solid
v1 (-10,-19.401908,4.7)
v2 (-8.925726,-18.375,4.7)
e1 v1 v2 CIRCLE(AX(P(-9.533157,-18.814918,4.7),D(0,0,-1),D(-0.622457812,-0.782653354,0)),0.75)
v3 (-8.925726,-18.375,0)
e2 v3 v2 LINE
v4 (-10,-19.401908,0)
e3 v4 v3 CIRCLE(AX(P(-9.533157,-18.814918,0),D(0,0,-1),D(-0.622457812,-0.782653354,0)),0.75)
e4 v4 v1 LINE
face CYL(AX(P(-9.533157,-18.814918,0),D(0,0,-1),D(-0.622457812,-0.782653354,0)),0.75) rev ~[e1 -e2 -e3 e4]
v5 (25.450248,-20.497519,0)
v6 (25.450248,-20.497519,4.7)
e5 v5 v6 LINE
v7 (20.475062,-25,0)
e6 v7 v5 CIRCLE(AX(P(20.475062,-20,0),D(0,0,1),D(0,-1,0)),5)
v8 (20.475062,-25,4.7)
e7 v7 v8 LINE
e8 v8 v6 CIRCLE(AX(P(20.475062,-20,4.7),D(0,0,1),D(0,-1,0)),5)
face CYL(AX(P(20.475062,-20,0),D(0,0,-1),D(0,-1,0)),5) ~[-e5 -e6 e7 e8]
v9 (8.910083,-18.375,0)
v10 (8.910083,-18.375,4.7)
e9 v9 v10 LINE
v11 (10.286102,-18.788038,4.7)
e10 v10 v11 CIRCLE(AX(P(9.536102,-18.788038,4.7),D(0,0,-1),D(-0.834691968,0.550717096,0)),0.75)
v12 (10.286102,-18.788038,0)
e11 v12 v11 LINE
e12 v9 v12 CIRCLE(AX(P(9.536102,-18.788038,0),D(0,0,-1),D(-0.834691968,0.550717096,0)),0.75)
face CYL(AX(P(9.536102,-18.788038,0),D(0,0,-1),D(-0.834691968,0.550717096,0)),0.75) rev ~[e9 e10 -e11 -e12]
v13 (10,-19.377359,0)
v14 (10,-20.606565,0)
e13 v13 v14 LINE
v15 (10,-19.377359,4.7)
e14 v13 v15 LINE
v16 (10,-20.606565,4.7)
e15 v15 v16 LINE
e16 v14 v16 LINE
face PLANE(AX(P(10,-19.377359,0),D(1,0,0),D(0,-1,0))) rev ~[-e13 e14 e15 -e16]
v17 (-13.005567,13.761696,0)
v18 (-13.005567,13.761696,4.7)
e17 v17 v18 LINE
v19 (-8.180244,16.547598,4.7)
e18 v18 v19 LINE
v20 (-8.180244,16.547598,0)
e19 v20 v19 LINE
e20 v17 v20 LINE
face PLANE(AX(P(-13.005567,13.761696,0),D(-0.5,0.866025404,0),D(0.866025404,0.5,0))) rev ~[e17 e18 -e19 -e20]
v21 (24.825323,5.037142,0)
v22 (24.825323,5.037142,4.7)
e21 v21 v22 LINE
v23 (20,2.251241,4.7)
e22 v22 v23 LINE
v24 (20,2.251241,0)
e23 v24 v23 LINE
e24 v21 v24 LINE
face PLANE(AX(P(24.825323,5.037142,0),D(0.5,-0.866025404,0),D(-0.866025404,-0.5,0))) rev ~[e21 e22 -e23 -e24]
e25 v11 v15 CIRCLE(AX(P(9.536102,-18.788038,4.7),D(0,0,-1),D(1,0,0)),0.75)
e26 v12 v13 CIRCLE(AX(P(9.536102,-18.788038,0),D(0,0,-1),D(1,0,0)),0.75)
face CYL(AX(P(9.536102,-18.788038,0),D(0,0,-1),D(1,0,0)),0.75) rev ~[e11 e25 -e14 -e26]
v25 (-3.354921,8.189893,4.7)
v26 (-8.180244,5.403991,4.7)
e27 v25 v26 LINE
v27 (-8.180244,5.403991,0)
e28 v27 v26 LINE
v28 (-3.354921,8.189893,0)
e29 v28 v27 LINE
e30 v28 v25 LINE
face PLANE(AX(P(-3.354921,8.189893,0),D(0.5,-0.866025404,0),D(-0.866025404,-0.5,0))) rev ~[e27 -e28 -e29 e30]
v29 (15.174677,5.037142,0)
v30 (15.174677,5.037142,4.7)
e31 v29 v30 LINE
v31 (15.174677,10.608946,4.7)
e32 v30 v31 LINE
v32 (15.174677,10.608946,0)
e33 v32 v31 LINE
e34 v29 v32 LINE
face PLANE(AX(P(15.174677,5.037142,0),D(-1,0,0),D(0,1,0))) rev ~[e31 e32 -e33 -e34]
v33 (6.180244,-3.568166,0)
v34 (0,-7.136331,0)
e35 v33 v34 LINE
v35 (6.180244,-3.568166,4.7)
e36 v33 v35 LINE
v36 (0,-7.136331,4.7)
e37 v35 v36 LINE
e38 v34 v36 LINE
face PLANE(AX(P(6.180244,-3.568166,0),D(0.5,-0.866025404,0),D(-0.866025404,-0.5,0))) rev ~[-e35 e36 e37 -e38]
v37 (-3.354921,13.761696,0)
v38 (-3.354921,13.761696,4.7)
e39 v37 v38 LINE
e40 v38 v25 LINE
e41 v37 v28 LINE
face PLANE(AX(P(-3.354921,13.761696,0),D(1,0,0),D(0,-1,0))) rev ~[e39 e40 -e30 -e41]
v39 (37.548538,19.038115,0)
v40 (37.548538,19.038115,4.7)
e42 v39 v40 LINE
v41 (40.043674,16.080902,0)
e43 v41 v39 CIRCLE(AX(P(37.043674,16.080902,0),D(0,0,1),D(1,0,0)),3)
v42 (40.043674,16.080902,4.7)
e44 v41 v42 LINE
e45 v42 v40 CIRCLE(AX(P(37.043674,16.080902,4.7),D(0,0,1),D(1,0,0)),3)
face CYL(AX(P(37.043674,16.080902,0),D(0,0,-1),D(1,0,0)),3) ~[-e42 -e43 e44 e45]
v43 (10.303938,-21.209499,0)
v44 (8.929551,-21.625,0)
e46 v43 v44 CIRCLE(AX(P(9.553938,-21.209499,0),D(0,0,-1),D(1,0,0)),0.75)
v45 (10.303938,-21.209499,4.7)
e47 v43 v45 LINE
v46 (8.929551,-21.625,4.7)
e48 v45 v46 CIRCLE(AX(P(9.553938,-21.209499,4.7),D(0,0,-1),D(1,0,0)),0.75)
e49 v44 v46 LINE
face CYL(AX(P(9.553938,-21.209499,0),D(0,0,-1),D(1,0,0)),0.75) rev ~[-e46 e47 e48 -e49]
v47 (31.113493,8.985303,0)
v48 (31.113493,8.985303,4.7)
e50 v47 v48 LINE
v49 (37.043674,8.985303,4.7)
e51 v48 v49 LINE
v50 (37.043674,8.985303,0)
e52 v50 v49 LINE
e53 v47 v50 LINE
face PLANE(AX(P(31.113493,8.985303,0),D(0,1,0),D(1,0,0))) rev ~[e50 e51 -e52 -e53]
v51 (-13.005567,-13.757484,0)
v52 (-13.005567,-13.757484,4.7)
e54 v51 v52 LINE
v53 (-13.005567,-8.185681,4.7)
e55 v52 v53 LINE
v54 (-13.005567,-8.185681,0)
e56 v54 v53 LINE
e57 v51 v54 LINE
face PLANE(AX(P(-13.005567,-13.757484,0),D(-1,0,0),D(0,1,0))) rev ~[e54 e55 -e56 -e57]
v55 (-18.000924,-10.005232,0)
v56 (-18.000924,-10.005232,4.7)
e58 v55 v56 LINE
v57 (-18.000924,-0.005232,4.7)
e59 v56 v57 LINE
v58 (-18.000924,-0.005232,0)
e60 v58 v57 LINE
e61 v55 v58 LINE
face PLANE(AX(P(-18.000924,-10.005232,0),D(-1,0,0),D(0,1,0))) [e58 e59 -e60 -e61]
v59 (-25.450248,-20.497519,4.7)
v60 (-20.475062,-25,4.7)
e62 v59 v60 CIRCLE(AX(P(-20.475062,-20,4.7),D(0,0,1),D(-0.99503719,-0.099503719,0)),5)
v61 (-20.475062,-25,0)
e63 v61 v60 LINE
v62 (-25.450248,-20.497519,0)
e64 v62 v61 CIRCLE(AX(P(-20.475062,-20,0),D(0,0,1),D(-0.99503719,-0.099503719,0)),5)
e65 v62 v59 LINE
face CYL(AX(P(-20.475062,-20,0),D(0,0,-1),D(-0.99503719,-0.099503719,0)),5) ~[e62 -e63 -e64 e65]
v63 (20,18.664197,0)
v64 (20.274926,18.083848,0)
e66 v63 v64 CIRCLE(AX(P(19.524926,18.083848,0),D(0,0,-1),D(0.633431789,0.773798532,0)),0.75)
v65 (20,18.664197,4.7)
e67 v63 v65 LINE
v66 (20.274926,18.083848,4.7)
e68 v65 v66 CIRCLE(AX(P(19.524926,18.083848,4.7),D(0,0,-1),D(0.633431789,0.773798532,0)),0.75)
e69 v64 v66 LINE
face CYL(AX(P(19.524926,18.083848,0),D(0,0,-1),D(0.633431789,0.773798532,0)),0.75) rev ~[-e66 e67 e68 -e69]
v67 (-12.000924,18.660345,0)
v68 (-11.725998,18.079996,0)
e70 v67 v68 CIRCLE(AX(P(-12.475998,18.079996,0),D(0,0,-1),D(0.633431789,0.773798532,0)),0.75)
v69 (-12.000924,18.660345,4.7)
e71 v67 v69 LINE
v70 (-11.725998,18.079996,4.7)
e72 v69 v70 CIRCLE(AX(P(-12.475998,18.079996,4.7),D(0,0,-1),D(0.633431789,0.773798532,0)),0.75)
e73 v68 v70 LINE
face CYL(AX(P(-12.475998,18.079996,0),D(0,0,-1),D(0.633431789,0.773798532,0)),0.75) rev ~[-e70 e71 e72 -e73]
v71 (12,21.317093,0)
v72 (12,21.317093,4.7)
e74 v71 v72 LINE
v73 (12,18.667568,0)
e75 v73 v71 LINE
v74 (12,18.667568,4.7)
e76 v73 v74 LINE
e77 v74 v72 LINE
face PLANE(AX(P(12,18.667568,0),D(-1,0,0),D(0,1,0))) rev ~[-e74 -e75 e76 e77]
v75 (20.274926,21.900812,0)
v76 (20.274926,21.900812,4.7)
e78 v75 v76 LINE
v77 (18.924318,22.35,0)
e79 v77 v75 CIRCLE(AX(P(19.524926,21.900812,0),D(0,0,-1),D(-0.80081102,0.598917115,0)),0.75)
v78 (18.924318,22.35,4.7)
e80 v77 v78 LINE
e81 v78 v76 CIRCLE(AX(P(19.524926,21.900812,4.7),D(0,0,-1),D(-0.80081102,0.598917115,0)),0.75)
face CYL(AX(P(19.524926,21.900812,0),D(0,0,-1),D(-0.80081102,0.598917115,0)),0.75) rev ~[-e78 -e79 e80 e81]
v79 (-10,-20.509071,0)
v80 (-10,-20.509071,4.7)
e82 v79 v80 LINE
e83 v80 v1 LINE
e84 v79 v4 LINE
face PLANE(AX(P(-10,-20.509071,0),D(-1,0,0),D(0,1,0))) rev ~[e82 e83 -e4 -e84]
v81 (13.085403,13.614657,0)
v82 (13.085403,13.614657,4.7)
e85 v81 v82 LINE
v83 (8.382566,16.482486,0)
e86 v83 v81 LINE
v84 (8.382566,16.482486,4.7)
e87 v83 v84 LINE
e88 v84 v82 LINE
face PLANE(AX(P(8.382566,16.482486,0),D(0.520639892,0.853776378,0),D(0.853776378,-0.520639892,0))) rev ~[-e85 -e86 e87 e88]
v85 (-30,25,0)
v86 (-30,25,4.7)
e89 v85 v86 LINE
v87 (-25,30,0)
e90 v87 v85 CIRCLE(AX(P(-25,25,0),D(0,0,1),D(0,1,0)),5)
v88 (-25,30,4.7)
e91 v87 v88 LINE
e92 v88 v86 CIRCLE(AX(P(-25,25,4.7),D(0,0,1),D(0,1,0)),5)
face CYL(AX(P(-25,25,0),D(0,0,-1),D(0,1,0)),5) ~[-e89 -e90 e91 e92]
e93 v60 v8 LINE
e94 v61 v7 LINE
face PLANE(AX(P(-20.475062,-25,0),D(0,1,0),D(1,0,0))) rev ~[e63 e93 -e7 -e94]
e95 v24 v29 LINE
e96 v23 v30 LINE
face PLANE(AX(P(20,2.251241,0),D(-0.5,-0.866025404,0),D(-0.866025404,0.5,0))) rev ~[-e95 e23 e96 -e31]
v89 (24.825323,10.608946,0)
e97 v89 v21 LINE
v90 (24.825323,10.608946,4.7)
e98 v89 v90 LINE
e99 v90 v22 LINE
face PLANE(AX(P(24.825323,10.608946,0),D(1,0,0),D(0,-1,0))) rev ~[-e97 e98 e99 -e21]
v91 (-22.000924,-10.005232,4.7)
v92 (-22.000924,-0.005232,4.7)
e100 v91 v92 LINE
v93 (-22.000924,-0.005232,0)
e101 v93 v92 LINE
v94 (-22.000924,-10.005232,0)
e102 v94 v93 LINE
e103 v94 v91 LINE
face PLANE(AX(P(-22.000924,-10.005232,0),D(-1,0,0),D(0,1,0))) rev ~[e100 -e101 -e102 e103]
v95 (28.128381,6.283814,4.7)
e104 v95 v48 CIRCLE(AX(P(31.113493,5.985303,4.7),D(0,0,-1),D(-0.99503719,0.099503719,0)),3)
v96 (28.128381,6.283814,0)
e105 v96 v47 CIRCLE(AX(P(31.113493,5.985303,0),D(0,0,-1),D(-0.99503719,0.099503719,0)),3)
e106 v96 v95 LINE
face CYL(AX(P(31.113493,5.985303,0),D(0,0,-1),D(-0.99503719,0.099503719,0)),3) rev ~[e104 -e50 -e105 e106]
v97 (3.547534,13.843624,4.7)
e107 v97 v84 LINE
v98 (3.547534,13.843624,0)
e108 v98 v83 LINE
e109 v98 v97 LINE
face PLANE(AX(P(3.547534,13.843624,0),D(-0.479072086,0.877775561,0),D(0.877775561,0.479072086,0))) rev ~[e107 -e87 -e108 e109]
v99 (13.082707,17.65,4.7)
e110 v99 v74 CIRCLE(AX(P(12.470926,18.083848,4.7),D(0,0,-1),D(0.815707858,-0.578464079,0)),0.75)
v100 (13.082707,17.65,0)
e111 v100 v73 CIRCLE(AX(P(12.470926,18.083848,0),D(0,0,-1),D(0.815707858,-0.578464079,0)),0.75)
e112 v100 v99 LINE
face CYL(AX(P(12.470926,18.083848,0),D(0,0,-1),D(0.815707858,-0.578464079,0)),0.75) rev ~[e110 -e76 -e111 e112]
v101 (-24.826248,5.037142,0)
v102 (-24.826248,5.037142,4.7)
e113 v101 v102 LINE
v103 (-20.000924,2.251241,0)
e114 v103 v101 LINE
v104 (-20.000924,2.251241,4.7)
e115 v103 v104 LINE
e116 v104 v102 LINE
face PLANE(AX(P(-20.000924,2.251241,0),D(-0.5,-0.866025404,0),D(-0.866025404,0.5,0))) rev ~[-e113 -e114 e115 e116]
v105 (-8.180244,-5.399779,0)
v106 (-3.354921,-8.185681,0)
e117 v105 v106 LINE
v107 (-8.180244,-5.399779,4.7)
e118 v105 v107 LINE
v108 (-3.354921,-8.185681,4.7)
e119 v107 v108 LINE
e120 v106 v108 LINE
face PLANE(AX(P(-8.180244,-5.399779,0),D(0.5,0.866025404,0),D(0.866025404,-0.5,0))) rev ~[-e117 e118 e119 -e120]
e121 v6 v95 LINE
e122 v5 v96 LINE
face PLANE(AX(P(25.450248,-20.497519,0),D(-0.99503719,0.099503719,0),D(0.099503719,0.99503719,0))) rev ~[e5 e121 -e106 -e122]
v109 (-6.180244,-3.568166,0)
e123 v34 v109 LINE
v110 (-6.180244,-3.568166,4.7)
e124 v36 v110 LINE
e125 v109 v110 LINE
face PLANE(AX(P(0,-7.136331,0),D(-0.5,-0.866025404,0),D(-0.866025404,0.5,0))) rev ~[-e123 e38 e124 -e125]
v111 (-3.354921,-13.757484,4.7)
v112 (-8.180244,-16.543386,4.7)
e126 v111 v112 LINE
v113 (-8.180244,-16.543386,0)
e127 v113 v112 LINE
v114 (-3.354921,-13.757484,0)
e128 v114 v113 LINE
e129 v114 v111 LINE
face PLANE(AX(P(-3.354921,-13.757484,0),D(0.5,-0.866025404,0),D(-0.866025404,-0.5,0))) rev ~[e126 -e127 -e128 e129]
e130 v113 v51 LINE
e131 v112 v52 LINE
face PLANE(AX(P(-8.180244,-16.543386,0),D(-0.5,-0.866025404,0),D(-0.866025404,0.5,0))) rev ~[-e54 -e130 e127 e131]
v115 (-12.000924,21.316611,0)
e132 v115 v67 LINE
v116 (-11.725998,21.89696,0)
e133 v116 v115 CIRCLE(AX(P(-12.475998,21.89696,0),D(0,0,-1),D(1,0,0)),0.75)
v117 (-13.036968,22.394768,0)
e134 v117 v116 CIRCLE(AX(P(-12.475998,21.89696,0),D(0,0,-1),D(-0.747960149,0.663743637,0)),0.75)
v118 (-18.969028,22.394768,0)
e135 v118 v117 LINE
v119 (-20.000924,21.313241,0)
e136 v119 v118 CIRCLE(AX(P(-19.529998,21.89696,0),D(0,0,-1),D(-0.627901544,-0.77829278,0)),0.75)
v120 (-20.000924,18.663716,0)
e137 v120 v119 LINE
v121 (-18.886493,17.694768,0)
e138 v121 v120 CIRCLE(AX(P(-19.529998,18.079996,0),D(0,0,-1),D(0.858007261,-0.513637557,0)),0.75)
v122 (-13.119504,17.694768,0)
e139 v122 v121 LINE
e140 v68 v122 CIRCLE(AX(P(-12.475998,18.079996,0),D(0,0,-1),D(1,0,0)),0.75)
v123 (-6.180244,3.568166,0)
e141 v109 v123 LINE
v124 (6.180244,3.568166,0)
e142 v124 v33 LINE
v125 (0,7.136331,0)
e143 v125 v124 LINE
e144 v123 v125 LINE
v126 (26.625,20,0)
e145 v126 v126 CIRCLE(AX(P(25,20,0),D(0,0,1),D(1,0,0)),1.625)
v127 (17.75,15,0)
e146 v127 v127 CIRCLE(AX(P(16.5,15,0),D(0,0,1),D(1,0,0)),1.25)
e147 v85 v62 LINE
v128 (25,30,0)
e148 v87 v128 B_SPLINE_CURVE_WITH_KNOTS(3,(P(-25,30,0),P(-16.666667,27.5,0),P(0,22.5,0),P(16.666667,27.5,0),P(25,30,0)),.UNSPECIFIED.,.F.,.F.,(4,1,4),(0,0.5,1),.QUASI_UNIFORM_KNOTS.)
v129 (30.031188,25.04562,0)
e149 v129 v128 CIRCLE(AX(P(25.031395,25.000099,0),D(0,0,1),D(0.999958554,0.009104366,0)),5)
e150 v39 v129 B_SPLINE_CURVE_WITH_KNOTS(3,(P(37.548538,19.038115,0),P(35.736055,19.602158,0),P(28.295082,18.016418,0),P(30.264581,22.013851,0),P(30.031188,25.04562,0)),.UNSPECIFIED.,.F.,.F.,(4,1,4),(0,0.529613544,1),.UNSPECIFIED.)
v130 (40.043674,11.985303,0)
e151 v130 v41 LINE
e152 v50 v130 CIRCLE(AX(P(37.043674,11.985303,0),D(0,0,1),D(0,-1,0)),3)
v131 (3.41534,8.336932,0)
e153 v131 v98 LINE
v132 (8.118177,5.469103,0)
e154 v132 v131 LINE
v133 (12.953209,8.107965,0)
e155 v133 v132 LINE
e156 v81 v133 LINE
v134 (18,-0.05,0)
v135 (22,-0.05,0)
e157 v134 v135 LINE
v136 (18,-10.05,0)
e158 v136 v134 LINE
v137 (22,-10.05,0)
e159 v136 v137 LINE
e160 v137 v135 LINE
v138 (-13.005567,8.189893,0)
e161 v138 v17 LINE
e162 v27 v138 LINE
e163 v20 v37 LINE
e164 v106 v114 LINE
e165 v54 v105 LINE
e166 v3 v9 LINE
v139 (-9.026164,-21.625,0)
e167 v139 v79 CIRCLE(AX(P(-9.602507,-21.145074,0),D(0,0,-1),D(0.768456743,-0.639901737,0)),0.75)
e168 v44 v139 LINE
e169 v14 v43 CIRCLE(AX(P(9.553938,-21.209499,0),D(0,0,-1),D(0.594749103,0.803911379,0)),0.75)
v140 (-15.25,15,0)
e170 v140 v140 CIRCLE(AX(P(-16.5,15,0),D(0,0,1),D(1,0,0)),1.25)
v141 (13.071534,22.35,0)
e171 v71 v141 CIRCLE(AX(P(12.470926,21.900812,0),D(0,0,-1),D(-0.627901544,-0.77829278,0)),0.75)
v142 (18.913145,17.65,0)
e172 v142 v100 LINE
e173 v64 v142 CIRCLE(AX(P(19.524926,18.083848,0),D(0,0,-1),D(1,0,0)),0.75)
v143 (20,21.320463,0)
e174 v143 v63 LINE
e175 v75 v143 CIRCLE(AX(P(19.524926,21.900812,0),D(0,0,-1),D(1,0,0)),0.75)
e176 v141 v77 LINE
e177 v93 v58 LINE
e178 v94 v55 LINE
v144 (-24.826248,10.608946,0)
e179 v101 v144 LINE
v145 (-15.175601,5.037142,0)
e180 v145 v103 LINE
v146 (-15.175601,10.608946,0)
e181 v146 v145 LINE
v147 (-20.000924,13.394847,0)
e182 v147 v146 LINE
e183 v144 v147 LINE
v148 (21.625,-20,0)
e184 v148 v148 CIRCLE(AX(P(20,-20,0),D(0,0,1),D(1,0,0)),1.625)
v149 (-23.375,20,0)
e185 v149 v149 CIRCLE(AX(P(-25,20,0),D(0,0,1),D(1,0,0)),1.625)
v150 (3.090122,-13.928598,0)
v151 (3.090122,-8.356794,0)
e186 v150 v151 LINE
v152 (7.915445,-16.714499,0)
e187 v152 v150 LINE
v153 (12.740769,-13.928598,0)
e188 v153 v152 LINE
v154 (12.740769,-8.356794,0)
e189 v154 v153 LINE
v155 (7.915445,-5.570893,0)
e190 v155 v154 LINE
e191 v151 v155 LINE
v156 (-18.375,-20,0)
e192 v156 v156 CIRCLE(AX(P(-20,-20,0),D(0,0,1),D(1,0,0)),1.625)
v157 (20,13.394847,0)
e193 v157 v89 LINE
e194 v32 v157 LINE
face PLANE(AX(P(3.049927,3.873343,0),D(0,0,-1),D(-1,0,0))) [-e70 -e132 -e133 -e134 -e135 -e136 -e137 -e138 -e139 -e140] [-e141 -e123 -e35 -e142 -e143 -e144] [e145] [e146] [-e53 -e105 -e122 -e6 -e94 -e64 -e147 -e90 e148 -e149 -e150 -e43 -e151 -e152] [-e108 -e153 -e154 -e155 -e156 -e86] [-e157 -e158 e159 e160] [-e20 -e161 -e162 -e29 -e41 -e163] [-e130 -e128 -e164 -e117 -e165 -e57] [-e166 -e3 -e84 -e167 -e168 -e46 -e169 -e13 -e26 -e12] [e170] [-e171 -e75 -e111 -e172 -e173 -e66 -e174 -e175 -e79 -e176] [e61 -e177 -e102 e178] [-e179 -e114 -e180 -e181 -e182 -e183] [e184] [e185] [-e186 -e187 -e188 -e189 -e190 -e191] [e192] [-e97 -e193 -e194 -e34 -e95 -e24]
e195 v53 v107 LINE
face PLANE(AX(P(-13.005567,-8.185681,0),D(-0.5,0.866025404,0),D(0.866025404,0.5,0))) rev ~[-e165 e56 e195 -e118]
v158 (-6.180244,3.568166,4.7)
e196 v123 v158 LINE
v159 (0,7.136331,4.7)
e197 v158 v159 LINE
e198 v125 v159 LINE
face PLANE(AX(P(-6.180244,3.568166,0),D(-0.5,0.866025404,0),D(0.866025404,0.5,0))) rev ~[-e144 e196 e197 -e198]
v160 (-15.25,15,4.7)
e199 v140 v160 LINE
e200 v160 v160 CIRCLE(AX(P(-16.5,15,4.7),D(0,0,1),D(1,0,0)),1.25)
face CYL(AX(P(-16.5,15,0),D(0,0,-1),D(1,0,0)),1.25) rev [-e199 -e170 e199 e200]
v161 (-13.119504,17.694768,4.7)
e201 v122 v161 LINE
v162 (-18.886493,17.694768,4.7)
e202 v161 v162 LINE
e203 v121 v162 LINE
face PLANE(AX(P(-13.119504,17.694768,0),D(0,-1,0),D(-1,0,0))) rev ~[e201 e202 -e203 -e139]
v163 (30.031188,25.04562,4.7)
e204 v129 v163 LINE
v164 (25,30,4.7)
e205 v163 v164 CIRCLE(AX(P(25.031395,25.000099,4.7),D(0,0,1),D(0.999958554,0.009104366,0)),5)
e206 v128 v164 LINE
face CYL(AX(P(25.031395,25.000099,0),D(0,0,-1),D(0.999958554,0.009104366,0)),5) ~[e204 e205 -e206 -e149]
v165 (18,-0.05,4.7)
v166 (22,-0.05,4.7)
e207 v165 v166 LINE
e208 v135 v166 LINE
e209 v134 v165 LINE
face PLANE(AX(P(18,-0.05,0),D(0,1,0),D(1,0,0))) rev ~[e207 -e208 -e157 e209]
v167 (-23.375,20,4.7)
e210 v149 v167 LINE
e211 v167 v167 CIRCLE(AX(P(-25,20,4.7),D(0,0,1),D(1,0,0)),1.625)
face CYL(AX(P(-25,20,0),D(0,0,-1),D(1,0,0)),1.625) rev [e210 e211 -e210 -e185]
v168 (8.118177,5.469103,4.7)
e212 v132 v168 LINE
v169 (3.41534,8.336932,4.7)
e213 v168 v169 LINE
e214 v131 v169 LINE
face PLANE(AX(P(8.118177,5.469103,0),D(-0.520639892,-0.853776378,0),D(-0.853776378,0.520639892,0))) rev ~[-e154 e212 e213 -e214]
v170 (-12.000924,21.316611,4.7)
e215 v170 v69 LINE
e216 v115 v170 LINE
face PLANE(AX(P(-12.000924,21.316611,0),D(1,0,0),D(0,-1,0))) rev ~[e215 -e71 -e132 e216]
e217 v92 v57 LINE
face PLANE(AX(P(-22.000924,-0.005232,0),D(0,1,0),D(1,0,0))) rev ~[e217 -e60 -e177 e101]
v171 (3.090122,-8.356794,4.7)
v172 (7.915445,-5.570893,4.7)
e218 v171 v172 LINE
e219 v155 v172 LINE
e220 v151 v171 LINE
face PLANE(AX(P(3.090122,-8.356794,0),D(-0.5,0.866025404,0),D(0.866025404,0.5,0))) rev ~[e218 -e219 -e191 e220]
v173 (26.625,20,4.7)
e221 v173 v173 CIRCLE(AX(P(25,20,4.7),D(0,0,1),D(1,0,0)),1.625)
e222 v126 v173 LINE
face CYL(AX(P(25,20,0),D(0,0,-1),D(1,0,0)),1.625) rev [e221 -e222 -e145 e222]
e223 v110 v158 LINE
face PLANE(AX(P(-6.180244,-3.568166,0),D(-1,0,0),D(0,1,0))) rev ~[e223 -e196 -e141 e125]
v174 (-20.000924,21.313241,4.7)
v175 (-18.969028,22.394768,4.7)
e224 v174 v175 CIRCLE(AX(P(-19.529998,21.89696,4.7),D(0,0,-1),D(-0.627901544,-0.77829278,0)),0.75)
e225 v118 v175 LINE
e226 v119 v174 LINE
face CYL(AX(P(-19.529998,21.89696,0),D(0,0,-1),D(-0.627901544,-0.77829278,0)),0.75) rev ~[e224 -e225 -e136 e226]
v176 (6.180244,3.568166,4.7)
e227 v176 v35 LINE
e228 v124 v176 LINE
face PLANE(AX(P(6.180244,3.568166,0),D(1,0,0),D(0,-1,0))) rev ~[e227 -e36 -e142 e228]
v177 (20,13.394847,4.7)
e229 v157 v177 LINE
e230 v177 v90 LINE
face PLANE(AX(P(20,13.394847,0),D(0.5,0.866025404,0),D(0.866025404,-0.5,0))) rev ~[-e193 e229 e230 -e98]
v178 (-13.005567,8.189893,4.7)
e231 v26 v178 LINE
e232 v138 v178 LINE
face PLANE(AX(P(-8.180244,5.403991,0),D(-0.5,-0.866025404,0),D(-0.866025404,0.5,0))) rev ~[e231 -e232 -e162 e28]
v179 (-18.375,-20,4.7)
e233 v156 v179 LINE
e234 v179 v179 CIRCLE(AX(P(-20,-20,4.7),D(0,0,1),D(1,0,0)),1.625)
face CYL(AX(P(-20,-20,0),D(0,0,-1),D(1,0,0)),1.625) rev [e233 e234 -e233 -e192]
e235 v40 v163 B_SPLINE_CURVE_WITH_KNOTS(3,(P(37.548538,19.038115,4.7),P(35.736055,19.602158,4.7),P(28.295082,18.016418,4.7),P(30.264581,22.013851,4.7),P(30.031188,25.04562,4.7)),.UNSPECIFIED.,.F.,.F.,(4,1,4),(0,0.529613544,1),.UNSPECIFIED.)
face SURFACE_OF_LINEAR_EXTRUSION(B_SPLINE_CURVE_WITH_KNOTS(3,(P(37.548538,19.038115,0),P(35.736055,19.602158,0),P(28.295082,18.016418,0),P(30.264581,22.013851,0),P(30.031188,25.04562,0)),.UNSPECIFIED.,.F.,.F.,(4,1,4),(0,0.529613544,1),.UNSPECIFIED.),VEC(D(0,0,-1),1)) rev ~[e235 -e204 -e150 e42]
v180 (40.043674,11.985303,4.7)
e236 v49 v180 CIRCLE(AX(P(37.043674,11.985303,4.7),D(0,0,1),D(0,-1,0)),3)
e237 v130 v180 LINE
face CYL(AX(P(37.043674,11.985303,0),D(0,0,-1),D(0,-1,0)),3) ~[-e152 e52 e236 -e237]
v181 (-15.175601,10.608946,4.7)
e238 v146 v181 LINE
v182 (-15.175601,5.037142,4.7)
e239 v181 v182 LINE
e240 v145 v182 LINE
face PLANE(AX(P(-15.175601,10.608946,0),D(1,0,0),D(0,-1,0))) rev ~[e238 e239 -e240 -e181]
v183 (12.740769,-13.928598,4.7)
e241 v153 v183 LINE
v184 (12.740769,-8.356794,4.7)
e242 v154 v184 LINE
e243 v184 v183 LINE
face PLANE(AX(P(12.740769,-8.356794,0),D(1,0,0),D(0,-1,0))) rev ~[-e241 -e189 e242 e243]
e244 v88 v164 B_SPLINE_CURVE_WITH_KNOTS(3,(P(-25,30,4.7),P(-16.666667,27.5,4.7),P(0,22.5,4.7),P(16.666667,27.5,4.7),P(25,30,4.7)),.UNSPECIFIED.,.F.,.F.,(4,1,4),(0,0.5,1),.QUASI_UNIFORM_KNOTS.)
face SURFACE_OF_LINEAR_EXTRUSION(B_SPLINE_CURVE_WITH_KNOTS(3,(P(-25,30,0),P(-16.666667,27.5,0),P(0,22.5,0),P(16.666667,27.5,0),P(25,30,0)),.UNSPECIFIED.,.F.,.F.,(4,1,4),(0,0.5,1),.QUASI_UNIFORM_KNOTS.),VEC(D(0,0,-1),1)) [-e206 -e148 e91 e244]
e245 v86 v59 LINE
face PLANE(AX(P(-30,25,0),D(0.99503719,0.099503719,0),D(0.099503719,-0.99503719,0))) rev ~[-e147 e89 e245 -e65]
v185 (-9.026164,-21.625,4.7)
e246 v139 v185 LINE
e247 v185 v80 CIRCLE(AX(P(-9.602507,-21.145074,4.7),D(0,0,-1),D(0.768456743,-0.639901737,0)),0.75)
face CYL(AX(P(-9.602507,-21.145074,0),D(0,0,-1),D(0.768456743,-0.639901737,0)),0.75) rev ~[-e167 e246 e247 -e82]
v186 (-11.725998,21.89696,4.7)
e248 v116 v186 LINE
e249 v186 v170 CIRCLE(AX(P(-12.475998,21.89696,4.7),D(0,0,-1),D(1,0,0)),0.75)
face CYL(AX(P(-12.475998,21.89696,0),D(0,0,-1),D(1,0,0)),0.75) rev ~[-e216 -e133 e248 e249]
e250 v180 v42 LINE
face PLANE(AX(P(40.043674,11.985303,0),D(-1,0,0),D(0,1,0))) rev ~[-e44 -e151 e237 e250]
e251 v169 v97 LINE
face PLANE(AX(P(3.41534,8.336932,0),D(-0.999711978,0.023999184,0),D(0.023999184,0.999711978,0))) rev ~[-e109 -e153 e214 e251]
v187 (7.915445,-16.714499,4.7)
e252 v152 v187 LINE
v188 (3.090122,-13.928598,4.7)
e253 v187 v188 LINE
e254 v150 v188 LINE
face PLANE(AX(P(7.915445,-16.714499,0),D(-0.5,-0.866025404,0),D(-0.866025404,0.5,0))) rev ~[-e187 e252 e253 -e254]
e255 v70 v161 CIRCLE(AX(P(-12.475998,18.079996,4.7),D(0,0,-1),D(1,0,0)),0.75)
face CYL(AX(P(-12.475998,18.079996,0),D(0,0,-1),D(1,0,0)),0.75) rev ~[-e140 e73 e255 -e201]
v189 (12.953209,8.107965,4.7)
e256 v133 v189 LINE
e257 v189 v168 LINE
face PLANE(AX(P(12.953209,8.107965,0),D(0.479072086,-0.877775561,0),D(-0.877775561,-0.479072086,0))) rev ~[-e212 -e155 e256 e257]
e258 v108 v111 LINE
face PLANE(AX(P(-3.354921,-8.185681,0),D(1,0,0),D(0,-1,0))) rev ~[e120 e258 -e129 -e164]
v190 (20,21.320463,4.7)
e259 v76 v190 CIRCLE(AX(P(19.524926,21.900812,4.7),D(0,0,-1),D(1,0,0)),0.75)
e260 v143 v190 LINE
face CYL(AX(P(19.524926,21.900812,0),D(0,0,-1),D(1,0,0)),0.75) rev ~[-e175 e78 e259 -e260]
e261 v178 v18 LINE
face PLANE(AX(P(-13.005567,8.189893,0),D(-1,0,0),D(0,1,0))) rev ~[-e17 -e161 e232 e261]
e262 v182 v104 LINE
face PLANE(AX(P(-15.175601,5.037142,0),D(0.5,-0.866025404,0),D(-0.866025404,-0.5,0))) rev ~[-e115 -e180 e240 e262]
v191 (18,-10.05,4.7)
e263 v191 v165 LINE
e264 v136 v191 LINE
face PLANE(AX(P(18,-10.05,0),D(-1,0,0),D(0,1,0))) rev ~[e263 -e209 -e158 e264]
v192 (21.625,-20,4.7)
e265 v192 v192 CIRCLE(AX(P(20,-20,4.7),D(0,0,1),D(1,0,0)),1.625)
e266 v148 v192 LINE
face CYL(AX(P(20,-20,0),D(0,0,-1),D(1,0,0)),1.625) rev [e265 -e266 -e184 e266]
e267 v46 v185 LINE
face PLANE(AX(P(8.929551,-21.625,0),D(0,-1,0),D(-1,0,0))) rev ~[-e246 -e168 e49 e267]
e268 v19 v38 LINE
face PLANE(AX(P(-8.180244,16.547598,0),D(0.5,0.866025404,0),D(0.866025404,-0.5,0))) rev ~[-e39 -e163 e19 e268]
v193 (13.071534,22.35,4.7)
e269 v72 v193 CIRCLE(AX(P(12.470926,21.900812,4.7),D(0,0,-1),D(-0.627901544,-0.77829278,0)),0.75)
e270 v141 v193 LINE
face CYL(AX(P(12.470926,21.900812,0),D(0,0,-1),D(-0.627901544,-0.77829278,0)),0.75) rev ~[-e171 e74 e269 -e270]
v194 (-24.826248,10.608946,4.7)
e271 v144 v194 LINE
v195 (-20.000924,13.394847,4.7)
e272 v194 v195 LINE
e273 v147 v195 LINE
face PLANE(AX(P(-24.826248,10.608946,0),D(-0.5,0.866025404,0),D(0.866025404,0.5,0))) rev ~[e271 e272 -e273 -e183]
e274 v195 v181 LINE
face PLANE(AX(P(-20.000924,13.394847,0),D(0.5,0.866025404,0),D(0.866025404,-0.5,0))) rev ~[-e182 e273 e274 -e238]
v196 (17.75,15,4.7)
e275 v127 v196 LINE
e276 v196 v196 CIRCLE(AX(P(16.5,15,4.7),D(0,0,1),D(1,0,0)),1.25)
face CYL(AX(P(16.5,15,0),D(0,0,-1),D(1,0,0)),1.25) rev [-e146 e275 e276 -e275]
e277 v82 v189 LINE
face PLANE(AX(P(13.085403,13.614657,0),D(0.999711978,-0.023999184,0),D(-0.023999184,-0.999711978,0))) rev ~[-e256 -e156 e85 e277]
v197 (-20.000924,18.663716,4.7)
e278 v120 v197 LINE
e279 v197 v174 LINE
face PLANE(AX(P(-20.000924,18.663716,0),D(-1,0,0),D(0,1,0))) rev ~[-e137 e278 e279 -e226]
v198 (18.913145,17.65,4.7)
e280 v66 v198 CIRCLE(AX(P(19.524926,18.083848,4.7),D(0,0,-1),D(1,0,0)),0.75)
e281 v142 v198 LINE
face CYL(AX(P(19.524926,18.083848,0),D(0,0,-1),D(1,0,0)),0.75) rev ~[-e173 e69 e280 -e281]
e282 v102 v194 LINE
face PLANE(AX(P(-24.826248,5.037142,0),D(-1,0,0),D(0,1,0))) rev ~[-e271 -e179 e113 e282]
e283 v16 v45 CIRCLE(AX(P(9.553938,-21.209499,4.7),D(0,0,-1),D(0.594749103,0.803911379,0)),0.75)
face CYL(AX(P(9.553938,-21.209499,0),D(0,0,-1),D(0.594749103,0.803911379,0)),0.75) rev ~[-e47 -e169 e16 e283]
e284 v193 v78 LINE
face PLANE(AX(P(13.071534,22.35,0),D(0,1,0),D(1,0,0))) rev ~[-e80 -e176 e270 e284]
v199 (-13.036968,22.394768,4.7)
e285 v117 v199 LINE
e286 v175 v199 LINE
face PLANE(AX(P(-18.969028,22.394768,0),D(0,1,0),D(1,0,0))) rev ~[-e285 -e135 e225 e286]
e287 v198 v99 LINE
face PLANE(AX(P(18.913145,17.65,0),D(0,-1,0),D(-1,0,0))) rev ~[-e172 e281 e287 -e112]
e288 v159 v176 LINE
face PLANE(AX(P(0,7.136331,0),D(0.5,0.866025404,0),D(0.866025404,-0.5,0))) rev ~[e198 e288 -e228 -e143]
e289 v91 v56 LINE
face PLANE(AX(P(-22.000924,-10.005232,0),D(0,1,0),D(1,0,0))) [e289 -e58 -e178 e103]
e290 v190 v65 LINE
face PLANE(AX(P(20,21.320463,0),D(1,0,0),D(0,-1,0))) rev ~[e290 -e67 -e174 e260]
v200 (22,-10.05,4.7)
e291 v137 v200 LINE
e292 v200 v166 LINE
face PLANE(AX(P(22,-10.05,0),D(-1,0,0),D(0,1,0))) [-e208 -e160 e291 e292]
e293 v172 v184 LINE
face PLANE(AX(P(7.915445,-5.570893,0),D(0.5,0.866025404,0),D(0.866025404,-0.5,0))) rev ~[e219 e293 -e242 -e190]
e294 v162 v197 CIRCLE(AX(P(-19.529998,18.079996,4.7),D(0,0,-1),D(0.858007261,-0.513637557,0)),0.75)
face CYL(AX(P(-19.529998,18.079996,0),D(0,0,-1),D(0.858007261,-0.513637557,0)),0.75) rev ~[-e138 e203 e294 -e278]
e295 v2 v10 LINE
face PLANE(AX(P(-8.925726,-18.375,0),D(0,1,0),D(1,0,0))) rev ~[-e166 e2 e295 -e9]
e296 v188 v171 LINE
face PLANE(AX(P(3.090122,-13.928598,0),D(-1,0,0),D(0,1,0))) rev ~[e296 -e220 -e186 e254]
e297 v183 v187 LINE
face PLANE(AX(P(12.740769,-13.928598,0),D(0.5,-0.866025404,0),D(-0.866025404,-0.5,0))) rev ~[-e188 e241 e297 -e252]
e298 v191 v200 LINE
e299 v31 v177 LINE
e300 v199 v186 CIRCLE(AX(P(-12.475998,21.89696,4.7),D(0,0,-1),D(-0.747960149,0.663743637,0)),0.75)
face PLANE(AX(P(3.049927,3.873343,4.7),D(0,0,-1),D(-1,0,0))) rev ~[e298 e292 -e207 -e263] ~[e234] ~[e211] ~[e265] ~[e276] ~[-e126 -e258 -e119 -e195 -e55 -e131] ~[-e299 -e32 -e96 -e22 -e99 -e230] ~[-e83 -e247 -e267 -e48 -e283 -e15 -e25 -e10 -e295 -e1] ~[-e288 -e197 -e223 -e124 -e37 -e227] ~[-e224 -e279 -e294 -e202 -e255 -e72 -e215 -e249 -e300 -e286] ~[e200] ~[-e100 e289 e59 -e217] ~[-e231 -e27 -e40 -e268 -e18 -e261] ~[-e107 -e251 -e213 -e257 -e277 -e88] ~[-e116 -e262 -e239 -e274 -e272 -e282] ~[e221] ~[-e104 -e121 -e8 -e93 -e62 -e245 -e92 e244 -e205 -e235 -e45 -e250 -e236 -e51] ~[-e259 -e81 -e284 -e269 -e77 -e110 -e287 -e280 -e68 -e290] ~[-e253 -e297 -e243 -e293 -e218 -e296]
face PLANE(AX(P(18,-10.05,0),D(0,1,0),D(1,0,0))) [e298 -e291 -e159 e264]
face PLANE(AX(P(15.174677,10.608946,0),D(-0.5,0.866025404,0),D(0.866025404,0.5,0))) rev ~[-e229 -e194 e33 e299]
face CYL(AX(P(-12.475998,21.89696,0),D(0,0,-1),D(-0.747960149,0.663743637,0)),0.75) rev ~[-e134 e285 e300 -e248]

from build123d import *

# Parameters (mm, degrees)
F0_R     = 1.625
F0_W     = 4
F0_H     = 10
F0_R_2   = 1.25
F1_DEPTH = 4.7


with BuildPart() as f1:
    # F0 (on Top) → F1 (new body)
    with BuildSketch(Plane.XY):
        with BuildLine():
            add(Edge.make_bspline(
                [(-25, 30), (-16.6666666667, 27.5), (0, 22.5), (16.6666666667, 27.5), (25, 30)],
                knots=[0, 0, 0, 0, 0.5, 1, 1, 1, 1], degree=3))
            ThreePointArc((-25, 30), (-28.5355339059, 28.5355339059), (-30, 25))
            Line((-30, 25), (-25.4502481405, -20.4975185951))
            ThreePointArc((-25.4502481405, -20.4975185951), (-23.8300887932, -23.7072626678), (-20.4750621894, -25))
            Line((-20.4750621894, -25), (20.4750621894, -25))
            ThreePointArc((20.4750621894, -25), (23.8300887932, -23.7072626678), (25.4502481405, -20.4975185951))
            Line((25.4502481405, -20.4975185951), (28.1283814421, 6.2838144207))
            ThreePointArc((28.1283814421, 6.2838144207), (29.1004770504, 8.2096608643), (31.1134930127, 8.9853032636))
            Line((31.1134930127, 8.9853032636), (37.0436744094, 8.9853032636))
            ThreePointArc((37.0436744094, 8.9853032636), (39.1649947529, 9.8639829201), (40.0436744094, 11.9853032636))
            Line((40.0436744094, 11.9853032636), (40.0436744094, 16.0809016612))
            ThreePointArc((40.0436744094, 16.0809016612), (39.3365537713, 18.0155086579), (37.548538255, 19.0381152986))
            add(Edge.make_bspline(
                [(37.548538255, 19.0381152986), (35.7360548553, 19.6021584041), (28.2950816113, 18.0164181116), (30.2645805174, 22.0138513825), (30.0311879378, 25.0456203954)],
                knots=[0, 0, 0, 0, 0.5296135435, 1, 1, 1, 1], degree=3))
            ThreePointArc((30.0311879378, 25.0456203954), (28.5396301936, 28.5627221771), (25, 30))
        make_face()
        with Locations((-20, -20)):
            Circle(F0_R, mode=Mode.SUBTRACT)
        with Locations((-20.0009244606, -5.0052320585)):
            Rectangle(F0_W, F0_H, mode=Mode.SUBTRACT)
        Polygon((-8.1802440323, -5.3997794123), (-3.3549207728, -8.1856810951), (-3.3549207728, -13.7574844606), (-8.1802440323, -16.5433861434), (-13.0055672918, -13.7574844606), (-13.0055672918, -8.1856810951), align=None, mode=Mode.SUBTRACT)
        with BuildLine():
            ThreePointArc((-10, -19.401907669), (-10.0513998883, -18.2727701311), (-8.9257256095, -18.375))
            Line((-8.9257256095, -18.375), (8.9100834385, -18.375))
            ThreePointArc((8.9100834385, -18.375), (9.7517245005, -18.0697014688), (10.2861024141, -18.7880378217))
            ThreePointArc((10.2861024141, -18.7880378217), (10.2107961185, -19.11558691), (10, -19.3773586424))
            Line((10, -19.3773586424), (10, -20.6065653335))
            ThreePointArc((10, -20.6065653335), (10.2236569087, -20.8718943432), (10.3039381728, -21.2094988674))
            ThreePointArc((10.3039381728, -21.2094988674), (9.7709749673, -21.9274090497), (8.9295514266, -21.625))
            Line((8.9295514266, -21.625), (-9.0261640875, -21.625))
            ThreePointArc((-9.0261640875, -21.625), (-10.1675915661, -21.6382055576), (-10, -20.5090713127))
            Line((-10, -20.5090713127), (-10, -19.401907669))
        make_face(mode=Mode.SUBTRACT)
        Polygon((0, 7.1363311114), (6.1802440323, 3.5681655557), (6.1802440323, -3.5681655557), (0, -7.1363311114), (-6.1802440323, -3.5681655557), (-6.1802440323, 3.5681655557), align=None, mode=Mode.SUBTRACT)
        Polygon((7.9154452756, -5.5708927447), (12.7407685351, -8.3567944274), (12.7407685351, -13.928597793), (7.9154452756, -16.7144994758), (3.0901220161, -13.928597793), (3.0901220161, -8.3567944274), align=None, mode=Mode.SUBTRACT)
        with Locations((20, -20)):
            Circle(F0_R, mode=Mode.SUBTRACT)
        with Locations((20, -5.05)):
            Rectangle(F0_W, F0_H, mode=Mode.SUBTRACT)
        Polygon((-20.0009244606, 13.3948474335), (-15.1756012011, 10.6089457508), (-15.1756012011, 5.0371423852), (-20.0009244606, 2.2512407024), (-24.82624772, 5.0371423852), (-24.82624772, 10.6089457508), align=None, mode=Mode.SUBTRACT)
        with Locations((-25, 20)):
            Circle(F0_R, mode=Mode.SUBTRACT)
        with Locations((-16.5, 15)):
            Circle(F0_R_2, mode=Mode.SUBTRACT)
        with BuildLine():
            Line((-18.9690281908, 22.3947679415), (-13.0369684141, 22.3947679415))
            ThreePointArc((-13.0369684141, 22.3947679415), (-12.2097536628, 22.5981119747), (-11.7259983025, 21.8969602138))
            ThreePointArc((-11.7259983025, 21.8969602138), (-11.7982057894, 21.5758725166), (-12.0009244606, 21.3166113146))
            Line((-12.0009244606, 21.3166113146), (-12.0009244606, 18.6603450082))
            ThreePointArc((-12.0009244606, 18.6603450082), (-11.7982057894, 18.4010838062), (-11.7259983025, 18.079996109))
            ThreePointArc((-11.7259983025, 18.079996109), (-12.2761597232, 17.3571098508), (-13.1195037484, 17.6947679415))
            Line((-13.1195037484, 17.6947679415), (-18.8864928565, 17.6947679415))
            ThreePointArc((-18.8864928565, 17.6947679415), (-20.0220967065, 17.5140109849), (-20.0009244606, 18.6637156937))
            Line((-20.0009244606, 18.6637156937), (-20.0009244606, 21.3132406291))
            ThreePointArc((-20.0009244606, 21.3132406291), (-20.0726329036, 22.4146934363), (-18.9690281908, 22.3947679415))
        make_face(mode=Mode.SUBTRACT)
        Polygon((-8.1802440323, 16.5475976726), (-3.3549207728, 13.7616959899), (-3.3549207728, 8.1898926243), (-8.1802440323, 5.4039909415), (-13.0055672918, 8.1898926243), (-13.0055672918, 13.7616959899), align=None, mode=Mode.SUBTRACT)
        Polygon((8.3825656368, 16.4824857433), (13.0854032248, 13.614656513), (12.9532090517, 8.1079650768), (8.1181772905, 5.4691028708), (3.4153397025, 8.3369321011), (3.5475338756, 13.8436235374), align=None, mode=Mode.SUBTRACT)
        Polygon((20, 13.3948474335), (24.8253232595, 10.6089457508), (24.8253232595, 5.0371423852), (20, 2.2512407024), (15.1746767405, 5.0371423852), (15.1746767405, 10.6089457508), align=None, mode=Mode.SUBTRACT)
        with Locations((16.5, 15)):
            Circle(F0_R_2, mode=Mode.SUBTRACT)
        with BuildLine():
            Line((13.0715344231, 22.35), (18.9243178932, 22.35))
            ThreePointArc((18.9243178932, 22.35), (19.7616156185, 22.6124849113), (20.2749261581, 21.9008121639))
            ThreePointArc((20.2749261581, 21.9008121639), (20.2027186711, 21.5797244667), (20, 21.3204632648))
            Line((20, 21.3204632648), (20, 18.6641969584))
            ThreePointArc((20, 18.6641969584), (20.2027186711, 18.4049357564), (20.2749261581, 18.0838480592))
            ThreePointArc((20.2749261581, 18.0838480592), (19.7525929431, 17.3692377912), (18.9131452647, 17.65))
            Line((18.9131452647, 17.65), (13.0827070515, 17.65))
            ThreePointArc((13.0827070515, 17.65), (11.9572910818, 17.5373327269), (12, 18.6675676439))
            Line((12, 18.6675676439), (12, 21.3170925792))
            ThreePointArc((12, 21.3170925792), (11.9504179476, 22.4407854992), (13.0715344231, 22.35))
        make_face(mode=Mode.SUBTRACT)
        with Locations((25, 20)):
            Circle(F0_R, mode=Mode.SUBTRACT)
    extrude(amount=F1_DEPTH)


solid = f1.part
